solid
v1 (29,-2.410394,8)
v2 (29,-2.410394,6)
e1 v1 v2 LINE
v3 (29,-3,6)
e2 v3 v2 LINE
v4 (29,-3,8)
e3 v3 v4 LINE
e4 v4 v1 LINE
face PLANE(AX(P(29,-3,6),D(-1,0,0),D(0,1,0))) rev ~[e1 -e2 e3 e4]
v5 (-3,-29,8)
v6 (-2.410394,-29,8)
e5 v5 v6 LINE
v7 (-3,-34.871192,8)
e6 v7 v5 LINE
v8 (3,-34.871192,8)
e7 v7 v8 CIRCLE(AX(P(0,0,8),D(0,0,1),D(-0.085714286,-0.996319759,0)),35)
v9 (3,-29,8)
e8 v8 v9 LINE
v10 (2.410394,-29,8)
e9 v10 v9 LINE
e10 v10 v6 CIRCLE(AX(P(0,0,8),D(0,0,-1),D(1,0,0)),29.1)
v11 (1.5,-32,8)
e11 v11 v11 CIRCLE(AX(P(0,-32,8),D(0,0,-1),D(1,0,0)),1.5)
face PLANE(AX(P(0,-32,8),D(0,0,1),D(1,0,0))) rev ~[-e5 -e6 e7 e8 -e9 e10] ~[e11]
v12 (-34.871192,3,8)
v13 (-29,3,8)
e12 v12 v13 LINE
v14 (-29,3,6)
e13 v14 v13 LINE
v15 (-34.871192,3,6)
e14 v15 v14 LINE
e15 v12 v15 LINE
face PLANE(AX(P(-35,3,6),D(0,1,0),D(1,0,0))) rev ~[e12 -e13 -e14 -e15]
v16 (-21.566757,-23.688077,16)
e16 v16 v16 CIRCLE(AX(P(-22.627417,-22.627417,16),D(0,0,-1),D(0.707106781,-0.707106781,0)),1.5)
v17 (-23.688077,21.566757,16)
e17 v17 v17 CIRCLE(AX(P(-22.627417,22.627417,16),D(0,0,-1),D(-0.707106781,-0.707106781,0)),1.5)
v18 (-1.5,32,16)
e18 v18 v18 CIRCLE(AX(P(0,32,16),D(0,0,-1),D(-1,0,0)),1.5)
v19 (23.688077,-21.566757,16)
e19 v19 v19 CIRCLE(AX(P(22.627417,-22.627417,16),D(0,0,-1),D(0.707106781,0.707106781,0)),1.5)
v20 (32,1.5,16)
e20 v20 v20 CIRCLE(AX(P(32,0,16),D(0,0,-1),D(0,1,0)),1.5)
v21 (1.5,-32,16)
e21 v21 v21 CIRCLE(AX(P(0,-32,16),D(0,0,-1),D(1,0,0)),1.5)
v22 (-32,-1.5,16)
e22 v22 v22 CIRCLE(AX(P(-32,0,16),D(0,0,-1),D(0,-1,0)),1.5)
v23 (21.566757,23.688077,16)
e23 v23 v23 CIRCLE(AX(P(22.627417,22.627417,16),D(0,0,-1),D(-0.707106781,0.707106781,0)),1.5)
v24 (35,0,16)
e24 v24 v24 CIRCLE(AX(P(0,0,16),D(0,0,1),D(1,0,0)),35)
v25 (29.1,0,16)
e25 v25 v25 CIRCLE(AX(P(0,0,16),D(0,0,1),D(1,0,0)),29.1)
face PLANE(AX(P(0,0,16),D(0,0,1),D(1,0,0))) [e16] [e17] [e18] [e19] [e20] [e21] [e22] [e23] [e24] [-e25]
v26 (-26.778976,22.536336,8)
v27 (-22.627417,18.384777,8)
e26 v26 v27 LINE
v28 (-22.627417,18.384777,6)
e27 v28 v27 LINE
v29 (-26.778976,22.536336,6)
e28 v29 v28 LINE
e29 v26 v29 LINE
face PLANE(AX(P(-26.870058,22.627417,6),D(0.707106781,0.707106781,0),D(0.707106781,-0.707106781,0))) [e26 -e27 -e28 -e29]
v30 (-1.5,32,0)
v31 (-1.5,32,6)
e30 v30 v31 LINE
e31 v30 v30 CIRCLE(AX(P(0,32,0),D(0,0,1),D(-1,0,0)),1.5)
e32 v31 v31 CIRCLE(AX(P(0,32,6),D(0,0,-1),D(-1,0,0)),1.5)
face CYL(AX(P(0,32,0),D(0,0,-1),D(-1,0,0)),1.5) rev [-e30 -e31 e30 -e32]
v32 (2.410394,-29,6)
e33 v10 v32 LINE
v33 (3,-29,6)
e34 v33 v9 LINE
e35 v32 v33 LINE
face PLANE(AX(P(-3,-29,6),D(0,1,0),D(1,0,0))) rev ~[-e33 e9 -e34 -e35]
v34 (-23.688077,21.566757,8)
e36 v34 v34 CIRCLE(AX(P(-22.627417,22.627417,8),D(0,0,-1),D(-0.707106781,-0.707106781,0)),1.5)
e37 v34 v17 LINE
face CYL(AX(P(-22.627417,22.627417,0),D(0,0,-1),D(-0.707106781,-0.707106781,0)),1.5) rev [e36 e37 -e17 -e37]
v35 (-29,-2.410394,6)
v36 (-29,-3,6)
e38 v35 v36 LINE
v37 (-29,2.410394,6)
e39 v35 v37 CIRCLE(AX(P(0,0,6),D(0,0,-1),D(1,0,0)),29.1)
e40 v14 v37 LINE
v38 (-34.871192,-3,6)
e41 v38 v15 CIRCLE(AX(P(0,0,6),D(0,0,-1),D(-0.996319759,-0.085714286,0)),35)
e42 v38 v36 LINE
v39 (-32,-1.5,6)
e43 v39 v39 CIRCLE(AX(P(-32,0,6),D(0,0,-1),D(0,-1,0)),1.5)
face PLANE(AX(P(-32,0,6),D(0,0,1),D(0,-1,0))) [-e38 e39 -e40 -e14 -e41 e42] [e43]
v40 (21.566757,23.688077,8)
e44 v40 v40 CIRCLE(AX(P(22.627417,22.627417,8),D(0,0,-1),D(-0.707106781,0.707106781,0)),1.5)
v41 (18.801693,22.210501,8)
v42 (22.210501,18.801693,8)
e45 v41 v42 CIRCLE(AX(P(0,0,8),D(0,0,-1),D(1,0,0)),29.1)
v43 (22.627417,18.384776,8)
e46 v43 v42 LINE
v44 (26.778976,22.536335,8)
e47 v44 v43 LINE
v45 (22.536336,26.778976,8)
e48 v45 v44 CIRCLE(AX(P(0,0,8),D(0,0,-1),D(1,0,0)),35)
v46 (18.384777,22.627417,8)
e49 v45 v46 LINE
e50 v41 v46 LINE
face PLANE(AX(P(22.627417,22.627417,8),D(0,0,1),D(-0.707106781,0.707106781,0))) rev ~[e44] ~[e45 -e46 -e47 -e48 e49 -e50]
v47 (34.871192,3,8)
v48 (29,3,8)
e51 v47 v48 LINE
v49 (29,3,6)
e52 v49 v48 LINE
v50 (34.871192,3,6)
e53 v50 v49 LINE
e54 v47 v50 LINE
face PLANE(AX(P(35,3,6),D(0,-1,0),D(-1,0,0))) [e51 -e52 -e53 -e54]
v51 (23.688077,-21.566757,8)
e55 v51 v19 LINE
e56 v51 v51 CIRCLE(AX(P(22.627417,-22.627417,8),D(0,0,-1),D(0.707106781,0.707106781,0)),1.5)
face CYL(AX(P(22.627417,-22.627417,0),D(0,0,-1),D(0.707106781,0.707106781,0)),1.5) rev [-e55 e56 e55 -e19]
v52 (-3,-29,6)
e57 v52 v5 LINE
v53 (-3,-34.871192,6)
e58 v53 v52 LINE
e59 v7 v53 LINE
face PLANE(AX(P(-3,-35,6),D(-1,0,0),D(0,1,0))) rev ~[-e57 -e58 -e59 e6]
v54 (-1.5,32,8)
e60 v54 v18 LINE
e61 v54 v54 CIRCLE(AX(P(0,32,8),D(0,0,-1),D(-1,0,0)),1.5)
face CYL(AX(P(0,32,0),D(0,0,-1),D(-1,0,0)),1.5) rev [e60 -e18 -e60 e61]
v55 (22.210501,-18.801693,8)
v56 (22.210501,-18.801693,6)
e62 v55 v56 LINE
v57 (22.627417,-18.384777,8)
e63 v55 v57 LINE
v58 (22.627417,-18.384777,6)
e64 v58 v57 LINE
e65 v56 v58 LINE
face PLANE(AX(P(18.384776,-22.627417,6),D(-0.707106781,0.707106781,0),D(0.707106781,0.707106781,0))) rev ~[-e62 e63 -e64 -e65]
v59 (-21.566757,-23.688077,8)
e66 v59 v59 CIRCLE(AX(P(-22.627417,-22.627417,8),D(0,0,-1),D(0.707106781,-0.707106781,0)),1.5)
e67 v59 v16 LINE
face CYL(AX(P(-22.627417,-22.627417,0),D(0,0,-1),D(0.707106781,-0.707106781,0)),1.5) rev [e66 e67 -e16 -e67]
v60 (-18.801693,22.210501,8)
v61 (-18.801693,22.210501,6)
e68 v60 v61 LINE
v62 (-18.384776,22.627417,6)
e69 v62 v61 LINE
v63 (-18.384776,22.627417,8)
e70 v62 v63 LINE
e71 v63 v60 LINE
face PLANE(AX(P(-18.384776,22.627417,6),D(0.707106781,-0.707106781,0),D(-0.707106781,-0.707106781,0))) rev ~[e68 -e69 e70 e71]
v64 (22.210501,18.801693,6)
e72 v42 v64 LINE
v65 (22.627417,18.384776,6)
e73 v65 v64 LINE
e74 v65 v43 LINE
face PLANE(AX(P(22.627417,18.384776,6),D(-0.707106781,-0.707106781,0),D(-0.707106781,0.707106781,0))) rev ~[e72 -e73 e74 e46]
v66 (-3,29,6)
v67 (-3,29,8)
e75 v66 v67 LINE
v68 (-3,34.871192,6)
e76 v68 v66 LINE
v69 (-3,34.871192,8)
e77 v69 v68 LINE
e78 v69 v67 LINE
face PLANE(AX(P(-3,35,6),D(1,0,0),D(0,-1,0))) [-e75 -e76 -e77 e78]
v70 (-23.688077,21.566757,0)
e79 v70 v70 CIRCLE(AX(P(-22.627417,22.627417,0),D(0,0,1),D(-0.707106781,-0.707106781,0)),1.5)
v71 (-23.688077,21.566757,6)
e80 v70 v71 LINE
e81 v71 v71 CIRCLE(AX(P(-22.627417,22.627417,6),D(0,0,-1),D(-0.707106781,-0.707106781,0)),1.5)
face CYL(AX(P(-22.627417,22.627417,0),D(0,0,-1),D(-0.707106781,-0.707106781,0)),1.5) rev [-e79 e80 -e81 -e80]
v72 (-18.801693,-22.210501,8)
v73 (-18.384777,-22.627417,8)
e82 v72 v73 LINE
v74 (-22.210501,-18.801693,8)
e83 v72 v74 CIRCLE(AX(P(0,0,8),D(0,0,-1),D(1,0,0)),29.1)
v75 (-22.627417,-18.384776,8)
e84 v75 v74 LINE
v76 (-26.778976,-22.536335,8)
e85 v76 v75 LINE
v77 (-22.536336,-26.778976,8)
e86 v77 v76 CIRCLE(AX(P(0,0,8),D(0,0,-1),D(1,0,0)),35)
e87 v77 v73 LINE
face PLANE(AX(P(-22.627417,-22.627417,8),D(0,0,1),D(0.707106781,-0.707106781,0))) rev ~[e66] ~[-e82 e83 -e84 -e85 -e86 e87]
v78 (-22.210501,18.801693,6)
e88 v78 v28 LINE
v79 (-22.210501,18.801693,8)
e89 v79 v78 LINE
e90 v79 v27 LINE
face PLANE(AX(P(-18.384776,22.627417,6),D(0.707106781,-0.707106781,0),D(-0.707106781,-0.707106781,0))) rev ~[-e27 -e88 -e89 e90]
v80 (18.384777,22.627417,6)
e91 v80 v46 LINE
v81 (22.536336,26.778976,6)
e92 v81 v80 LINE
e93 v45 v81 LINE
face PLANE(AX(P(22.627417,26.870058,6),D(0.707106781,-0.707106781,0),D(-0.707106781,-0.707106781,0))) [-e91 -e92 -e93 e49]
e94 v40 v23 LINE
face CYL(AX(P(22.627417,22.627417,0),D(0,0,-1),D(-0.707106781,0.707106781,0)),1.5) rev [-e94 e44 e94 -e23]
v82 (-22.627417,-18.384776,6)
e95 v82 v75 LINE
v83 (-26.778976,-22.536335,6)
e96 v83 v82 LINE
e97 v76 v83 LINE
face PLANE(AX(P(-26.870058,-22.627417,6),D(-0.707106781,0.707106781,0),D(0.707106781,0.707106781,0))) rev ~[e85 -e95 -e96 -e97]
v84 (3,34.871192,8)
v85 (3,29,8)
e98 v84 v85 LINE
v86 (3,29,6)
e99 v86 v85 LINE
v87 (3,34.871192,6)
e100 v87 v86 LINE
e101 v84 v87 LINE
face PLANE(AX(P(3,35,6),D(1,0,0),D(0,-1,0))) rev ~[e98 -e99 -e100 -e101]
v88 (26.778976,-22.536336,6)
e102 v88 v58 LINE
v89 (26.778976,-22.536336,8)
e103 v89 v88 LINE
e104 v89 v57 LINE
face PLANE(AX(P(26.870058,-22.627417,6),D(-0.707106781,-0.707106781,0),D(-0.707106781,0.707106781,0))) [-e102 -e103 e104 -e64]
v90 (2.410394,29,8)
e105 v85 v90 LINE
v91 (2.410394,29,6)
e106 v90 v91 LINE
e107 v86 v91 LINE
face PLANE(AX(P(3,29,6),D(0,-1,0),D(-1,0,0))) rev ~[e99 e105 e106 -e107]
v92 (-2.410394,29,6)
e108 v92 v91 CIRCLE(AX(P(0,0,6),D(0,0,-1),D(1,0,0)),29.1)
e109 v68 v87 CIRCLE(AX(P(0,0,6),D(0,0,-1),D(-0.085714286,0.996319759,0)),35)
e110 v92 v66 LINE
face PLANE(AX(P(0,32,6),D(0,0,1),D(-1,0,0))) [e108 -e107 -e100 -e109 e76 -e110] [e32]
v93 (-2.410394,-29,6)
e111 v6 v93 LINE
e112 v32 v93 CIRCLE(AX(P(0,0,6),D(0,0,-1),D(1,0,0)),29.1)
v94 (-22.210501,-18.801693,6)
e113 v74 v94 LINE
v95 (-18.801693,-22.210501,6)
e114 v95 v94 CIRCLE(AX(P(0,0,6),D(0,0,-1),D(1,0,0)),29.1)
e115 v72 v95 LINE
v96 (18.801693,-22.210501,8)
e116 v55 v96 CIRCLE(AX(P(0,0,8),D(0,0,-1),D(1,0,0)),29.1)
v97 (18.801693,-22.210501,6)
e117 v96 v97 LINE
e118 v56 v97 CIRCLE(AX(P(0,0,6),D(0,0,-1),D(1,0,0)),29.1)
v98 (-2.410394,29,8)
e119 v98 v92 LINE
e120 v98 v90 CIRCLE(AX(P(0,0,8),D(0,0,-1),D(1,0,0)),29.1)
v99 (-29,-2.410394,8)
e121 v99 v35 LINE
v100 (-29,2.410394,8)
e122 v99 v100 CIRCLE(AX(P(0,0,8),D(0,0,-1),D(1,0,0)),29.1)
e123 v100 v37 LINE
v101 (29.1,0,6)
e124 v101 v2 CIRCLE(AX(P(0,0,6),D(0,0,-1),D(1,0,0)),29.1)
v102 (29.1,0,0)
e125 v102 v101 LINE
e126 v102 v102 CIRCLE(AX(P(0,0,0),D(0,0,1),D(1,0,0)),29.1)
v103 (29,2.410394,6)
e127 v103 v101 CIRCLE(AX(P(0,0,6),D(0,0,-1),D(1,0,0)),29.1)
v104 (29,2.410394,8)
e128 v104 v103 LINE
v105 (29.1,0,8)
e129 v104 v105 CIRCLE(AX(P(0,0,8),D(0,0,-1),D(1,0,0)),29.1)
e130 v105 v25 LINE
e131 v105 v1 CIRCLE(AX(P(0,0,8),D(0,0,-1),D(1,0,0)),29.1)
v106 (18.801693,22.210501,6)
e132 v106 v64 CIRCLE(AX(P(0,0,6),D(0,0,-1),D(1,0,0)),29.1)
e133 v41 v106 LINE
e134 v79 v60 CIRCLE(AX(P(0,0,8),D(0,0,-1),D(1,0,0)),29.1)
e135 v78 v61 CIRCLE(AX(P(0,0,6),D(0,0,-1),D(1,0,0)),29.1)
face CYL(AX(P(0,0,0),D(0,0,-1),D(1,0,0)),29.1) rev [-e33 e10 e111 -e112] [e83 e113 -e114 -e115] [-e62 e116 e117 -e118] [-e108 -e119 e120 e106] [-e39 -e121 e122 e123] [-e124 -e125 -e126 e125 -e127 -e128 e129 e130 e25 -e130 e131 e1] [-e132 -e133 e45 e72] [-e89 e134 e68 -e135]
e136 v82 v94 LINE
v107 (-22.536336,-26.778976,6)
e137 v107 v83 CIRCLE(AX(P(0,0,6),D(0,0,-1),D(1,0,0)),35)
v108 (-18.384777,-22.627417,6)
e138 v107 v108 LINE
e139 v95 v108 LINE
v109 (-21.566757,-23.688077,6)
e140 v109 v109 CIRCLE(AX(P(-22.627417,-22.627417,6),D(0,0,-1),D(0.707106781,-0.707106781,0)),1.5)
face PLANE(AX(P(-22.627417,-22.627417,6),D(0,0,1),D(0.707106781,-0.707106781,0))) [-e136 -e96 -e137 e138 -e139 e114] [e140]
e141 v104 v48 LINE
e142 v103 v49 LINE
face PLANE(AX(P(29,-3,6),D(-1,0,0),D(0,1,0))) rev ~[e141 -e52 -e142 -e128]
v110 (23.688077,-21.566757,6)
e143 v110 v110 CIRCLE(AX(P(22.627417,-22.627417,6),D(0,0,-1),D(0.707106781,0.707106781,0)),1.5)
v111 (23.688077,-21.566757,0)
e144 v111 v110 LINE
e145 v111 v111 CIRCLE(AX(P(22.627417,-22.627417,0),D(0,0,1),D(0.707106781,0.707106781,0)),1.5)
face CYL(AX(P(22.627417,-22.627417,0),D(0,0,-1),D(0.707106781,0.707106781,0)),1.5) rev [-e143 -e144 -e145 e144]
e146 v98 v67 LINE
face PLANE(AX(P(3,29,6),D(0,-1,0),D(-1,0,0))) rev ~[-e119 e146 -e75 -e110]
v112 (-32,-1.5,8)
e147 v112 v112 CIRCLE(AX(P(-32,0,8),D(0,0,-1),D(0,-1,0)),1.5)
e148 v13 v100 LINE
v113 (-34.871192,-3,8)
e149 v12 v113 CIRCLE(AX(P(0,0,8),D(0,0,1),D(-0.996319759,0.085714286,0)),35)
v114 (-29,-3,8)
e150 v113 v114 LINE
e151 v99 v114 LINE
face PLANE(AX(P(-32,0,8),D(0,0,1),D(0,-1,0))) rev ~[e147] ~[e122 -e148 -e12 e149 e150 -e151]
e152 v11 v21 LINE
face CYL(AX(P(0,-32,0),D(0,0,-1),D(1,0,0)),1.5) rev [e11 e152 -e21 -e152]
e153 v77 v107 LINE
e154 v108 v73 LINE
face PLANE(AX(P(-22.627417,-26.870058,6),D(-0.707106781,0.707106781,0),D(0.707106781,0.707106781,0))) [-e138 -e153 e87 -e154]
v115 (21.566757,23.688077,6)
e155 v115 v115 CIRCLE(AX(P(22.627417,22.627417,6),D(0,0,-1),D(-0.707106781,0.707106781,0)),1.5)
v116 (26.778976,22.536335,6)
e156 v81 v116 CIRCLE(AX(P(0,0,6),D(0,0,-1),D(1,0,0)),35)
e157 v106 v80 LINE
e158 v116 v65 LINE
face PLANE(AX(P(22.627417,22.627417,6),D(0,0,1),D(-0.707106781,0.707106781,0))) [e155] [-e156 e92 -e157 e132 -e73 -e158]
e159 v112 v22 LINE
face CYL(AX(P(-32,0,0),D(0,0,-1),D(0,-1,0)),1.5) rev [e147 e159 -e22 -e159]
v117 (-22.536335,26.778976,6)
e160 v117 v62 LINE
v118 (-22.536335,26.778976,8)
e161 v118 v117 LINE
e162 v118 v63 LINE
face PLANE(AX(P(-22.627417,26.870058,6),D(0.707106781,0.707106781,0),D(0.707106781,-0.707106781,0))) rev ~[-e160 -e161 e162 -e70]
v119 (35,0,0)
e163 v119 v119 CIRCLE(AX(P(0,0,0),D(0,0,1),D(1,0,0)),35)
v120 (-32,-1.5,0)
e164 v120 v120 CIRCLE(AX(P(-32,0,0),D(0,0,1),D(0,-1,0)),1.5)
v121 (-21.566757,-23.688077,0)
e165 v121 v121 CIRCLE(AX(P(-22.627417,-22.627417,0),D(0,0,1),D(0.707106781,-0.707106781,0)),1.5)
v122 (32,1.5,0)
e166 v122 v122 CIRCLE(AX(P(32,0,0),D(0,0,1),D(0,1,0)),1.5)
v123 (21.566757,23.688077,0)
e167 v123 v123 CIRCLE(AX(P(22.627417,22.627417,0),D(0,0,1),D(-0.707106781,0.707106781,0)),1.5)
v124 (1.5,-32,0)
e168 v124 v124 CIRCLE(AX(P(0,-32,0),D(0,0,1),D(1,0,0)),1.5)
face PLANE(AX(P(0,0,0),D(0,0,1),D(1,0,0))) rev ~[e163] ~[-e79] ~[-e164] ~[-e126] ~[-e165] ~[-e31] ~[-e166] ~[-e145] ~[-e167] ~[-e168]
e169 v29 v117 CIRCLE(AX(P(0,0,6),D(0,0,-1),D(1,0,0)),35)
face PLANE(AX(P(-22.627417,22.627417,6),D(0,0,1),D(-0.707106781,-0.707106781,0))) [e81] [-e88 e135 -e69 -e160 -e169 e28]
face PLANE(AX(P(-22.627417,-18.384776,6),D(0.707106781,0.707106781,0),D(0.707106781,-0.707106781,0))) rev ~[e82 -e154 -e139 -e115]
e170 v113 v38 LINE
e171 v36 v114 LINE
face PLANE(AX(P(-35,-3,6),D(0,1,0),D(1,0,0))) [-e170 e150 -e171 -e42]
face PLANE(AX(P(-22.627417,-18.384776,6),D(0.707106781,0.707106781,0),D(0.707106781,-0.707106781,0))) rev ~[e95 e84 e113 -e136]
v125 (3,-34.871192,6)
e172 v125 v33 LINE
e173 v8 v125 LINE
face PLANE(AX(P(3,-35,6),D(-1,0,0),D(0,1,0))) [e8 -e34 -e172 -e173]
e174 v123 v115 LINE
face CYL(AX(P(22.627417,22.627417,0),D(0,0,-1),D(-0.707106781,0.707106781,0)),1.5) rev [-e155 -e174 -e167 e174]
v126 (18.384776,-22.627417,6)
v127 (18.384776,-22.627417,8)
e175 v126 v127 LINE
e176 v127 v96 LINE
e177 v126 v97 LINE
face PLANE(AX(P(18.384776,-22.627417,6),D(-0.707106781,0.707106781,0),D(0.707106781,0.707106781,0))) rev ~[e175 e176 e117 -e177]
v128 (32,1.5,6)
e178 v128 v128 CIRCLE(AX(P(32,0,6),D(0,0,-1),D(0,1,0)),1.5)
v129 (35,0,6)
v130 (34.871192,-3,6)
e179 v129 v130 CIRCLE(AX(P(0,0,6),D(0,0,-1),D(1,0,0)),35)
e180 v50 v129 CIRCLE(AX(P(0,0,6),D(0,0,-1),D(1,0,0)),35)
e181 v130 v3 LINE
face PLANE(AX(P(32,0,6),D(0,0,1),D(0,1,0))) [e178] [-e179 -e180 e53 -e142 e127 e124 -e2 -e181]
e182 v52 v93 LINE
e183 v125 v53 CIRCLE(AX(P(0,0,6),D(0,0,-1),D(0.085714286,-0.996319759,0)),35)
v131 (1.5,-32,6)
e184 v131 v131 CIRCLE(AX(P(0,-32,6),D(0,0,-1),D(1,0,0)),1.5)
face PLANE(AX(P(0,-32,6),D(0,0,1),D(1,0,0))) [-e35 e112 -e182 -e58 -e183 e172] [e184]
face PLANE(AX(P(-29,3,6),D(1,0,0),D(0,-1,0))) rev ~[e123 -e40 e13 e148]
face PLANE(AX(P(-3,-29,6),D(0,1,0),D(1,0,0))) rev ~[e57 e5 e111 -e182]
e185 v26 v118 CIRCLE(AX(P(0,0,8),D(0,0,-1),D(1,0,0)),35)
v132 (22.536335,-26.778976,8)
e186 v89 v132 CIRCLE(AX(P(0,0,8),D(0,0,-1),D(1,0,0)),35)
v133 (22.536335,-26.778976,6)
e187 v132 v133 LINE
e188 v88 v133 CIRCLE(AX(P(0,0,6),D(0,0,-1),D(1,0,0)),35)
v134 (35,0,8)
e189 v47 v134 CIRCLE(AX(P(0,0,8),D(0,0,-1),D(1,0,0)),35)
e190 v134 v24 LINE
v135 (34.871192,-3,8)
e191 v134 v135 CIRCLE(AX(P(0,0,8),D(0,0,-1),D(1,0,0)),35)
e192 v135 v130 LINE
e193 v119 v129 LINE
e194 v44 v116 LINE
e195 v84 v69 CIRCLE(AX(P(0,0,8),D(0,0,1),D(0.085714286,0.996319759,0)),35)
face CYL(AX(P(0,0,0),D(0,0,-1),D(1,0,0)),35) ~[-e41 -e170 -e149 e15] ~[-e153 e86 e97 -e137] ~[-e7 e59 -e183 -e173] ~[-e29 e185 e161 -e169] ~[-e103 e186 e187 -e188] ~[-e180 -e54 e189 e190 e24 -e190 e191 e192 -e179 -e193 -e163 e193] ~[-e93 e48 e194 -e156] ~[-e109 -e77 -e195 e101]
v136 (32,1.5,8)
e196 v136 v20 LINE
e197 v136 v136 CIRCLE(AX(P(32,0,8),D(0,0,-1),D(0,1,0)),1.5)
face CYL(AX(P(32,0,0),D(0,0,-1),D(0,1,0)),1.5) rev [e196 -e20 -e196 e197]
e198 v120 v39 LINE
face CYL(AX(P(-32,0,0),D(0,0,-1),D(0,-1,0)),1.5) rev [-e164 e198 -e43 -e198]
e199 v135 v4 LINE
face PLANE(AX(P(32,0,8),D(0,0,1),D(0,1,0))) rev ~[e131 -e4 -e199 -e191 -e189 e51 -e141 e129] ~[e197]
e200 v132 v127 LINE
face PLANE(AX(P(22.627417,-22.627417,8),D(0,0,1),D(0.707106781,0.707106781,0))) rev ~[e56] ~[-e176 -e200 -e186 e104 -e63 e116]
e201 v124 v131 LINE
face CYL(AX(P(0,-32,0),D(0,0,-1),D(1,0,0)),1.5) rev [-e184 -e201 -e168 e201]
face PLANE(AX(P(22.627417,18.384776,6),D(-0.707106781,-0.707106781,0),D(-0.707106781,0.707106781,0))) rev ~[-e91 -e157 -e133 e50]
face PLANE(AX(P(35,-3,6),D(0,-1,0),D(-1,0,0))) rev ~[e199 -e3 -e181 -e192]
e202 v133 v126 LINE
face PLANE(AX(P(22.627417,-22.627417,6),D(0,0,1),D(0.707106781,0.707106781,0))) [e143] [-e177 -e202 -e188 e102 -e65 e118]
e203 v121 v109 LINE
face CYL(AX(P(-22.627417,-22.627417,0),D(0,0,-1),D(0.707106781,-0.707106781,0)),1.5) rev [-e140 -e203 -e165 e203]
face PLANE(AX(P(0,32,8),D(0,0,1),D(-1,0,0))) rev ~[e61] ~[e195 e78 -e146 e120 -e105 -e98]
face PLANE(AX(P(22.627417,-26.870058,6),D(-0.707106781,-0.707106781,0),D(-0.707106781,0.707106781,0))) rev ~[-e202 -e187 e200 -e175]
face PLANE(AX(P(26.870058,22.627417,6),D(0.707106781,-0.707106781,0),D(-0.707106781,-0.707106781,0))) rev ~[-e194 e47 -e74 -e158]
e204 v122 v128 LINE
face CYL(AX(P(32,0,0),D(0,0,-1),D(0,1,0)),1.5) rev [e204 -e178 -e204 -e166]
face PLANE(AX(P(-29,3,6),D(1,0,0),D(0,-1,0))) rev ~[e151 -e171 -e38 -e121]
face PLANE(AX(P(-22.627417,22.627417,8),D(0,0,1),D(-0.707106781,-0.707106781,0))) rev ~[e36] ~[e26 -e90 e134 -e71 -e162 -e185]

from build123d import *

# Parameters (mm, degrees)
BOX697_W                     = 6
BOX697_H                     = 6
BOX697_DEPTH                 = 2
BOX697_PLACEMENT_ANGLE       = 45
BOX703_W                     = 6
BOX703_H                     = 6
BOX703_DEPTH                 = 2
BOX703_PLACEMENT_ANGLE       = 45
BOX702_W                     = 6
BOX702_H                     = 6
BOX702_DEPTH                 = 2
BOX701_W                     = 6
BOX701_H                     = 6
BOX701_DEPTH                 = 2
BOX701_PLACEMENT_ANGLE       = 225
BOX700_W                     = 6
BOX700_H                     = 6
BOX700_DEPTH                 = 2
BOX699_W                     = 6
BOX699_H                     = 6
BOX699_DEPTH                 = 2
BOX699_PLACEMENT_ANGLE       = 135
BOX698_W                     = 6
BOX698_H                     = 6
BOX698_DEPTH                 = 2
BOX696_W                     = 6
BOX696_H                     = 6
BOX696_DEPTH                 = 2
CYLINDER1770_R               = 1.5
CYLINDER1770_DEPTH           = 30
CYLINDER1770_PLACEMENT_ANGLE = 45
CYLINDER1768_R               = 1.5
CYLINDER1768_DEPTH           = 30
CYLINDER1764_R               = 1.5
CYLINDER1764_DEPTH           = 30
CYLINDER1764_PLACEMENT_ANGLE = 135
CYLINDER1767_R               = 1.5
CYLINDER1767_DEPTH           = 30
CYLINDER1765_R               = 1.5
CYLINDER1765_DEPTH           = 30
CYLINDER1765_PLACEMENT_ANGLE = 225
CYLINDER1769_R               = 1.5
CYLINDER1769_DEPTH           = 30
CYLINDER1766_R               = 1.5
CYLINDER1766_DEPTH           = 30
CYLINDER1766_PLACEMENT_ANGLE = 45
CYLINDER1771_R               = 1.5
CYLINDER1771_DEPTH           = 30
TUBE086_R                    = 35
TUBE086_R_2                  = 29.1
TUBE086_DEPTH                = 16


with BuildPart() as krychle697:
    # Box697 → Box697 (new body)
    with BuildSketch(Plane.XY):
        with Locations((3, 3)):
            Rectangle(BOX697_W, BOX697_H)
    extrude(amount=BOX697_DEPTH)


with BuildPart() as krychle697_1:
    # Box697 placement: moved
    add(krychle697.part.moved(Location((22.627417, -26.870058, 6))).rotate(Axis((22.627417, -26.870058, 6), (0, 0, 1)), BOX697_PLACEMENT_ANGLE))


with BuildPart() as krychle703:
    # Box703 → Box703 (new body)
    with BuildSketch(Plane.XY):
        with Locations((3, 3)):
            Rectangle(BOX703_W, BOX703_H)
    extrude(amount=BOX703_DEPTH)


with BuildPart() as krychle703_1:
    # Box703 placement: moved
    add(krychle703.part.moved(Location((-26.870058, -22.627417, 6))).rotate(Axis((-26.870058, -22.627417, 6), (0, 0, -1)), BOX703_PLACEMENT_ANGLE))


with BuildPart() as krychle702:
    # Box702 → Box702 (new body)
    with BuildSketch(Plane(origin=(-35, 3, 6), x_dir=(0, -1, 0), z_dir=(0, 0, 1))):
        with Locations((3, 3)):
            Rectangle(BOX702_W, BOX702_H)
    extrude(amount=BOX702_DEPTH)


with BuildPart() as krychle701:
    # Box701 → Box701 (new body)
    with BuildSketch(Plane.XY):
        with Locations((3, 3)):
            Rectangle(BOX701_W, BOX701_H)
    extrude(amount=BOX701_DEPTH)


with BuildPart() as krychle701_1:
    # Box701 placement: moved
    add(krychle701.part.moved(Location((-22.627417, 26.870058, 6))).rotate(Axis((-22.627417, 26.870058, 6), (0, 0, 1)), BOX701_PLACEMENT_ANGLE))


with BuildPart() as krychle700:
    # Box700 → Box700 (new body)
    with BuildSketch(Plane(origin=(3, 35, 6), x_dir=(-1, 0, 0), z_dir=(0, 0, 1))):
        with Locations((3, 3)):
            Rectangle(BOX700_W, BOX700_H)
    extrude(amount=BOX700_DEPTH)


with BuildPart() as krychle699:
    # Box699 → Box699 (new body)
    with BuildSketch(Plane.XY):
        with Locations((3, 3)):
            Rectangle(BOX699_W, BOX699_H)
    extrude(amount=BOX699_DEPTH)


with BuildPart() as krychle699_1:
    # Box699 placement: moved
    add(krychle699.part.moved(Location((26.870058, 22.627417, 6))).rotate(Axis((26.870058, 22.627417, 6), (0, 0, 1)), BOX699_PLACEMENT_ANGLE))


with BuildPart() as krychle698:
    # Box698 → Box698 (new body)
    with BuildSketch(Plane(origin=(35, -3, 6), x_dir=(0, 1, 0), z_dir=(0, 0, 1))):
        with Locations((3, 3)):
            Rectangle(BOX698_W, BOX698_H)
    extrude(amount=BOX698_DEPTH)


with BuildPart() as compound878:
    # Box696 → Box696 (new body)
    with BuildSketch(Plane(origin=(-3, -35, 6), x_dir=(1, 0, 0), z_dir=(0, 0, 1))):
        with Locations((3, 3)):
            Rectangle(BOX696_W, BOX696_H)
    extrude(amount=BOX696_DEPTH)

    # Compound878: union Krychle697, Krychle703, Krychle702, Krychle701, Krychle700, Krychle699, Krychle698
    add(krychle697_1.part)
    add(krychle703_1.part)
    add(krychle702.part)
    add(krychle701_1.part)
    add(krychle700.part)
    add(krychle699_1.part)
    add(krychle698.part)


with BuildPart() as v_lec1770:
    # Cylinder1770 → Cylinder1770 (new body)
    with BuildSketch(Plane.XY):
        Circle(CYLINDER1770_R)
    extrude(amount=CYLINDER1770_DEPTH)


with BuildPart() as v_lec1770_1:
    # Cylinder1770 placement: moved
    add(v_lec1770.part.moved(Location((22.627417, -22.627417, 0))).rotate(Axis((22.627417, -22.627417, 0), (0, 0, 1)), CYLINDER1770_PLACEMENT_ANGLE))


with BuildPart() as v_lec1768:
    # Cylinder1768 → Cylinder1768 (new body)
    with BuildSketch(Plane(origin=(32, 0, 0), x_dir=(0, 1, 0), z_dir=(0, 0, 1))):
        Circle(CYLINDER1768_R)
    extrude(amount=CYLINDER1768_DEPTH)


with BuildPart() as v_lec1764:
    # Cylinder1764 → Cylinder1764 (new body)
    with BuildSketch(Plane.XY):
        Circle(CYLINDER1764_R)
    extrude(amount=CYLINDER1764_DEPTH)


with BuildPart() as v_lec1764_1:
    # Cylinder1764 placement: moved
    add(v_lec1764.part.moved(Location((22.627417, 22.627417, 0))).rotate(Axis((22.627417, 22.627417, 0), (0, 0, 1)), CYLINDER1764_PLACEMENT_ANGLE))


with BuildPart() as v_lec1767:
    # Cylinder1767 → Cylinder1767 (new body)
    with BuildSketch(Plane(origin=(0, 32, 0), x_dir=(-1, 0, 0), z_dir=(0, 0, 1))):
        Circle(CYLINDER1767_R)
    extrude(amount=CYLINDER1767_DEPTH)


with BuildPart() as v_lec1765:
    # Cylinder1765 → Cylinder1765 (new body)
    with BuildSketch(Plane.XY):
        Circle(CYLINDER1765_R)
    extrude(amount=CYLINDER1765_DEPTH)


with BuildPart() as v_lec1765_1:
    # Cylinder1765 placement: moved
    add(v_lec1765.part.moved(Location((-22.627417, 22.627417, 0))).rotate(Axis((-22.627417, 22.627417, 0), (0, 0, 1)), CYLINDER1765_PLACEMENT_ANGLE))


with BuildPart() as v_lec1769:
    # Cylinder1769 → Cylinder1769 (new body)
    with BuildSketch(Plane(origin=(-32, 0, 0), x_dir=(0, -1, 0), z_dir=(0, 0, 1))):
        Circle(CYLINDER1769_R)
    extrude(amount=CYLINDER1769_DEPTH)


with BuildPart() as v_lec1766:
    # Cylinder1766 → Cylinder1766 (new body)
    with BuildSketch(Plane.XY):
        Circle(CYLINDER1766_R)
    extrude(amount=CYLINDER1766_DEPTH)


with BuildPart() as v_lec1766_1:
    # Cylinder1766 placement: moved
    add(v_lec1766.part.moved(Location((-22.627417, -22.627417, 0))).rotate(Axis((-22.627417, -22.627417, 0), (0, 0, -1)), CYLINDER1766_PLACEMENT_ANGLE))


with BuildPart() as compound881:
    # Cylinder1771 → Cylinder1771 (new body)
    with BuildSketch(Plane(origin=(0, -32, 0), x_dir=(1, 0, 0), z_dir=(0, 0, 1))):
        Circle(CYLINDER1771_R)
    extrude(amount=CYLINDER1771_DEPTH)

    # Compound881: union Válec1770, Válec1768, Válec1764, Válec1767, Válec1765, Válec1769, Válec1766
    add(v_lec1770_1.part)
    add(v_lec1768.part)
    add(v_lec1764_1.part)
    add(v_lec1767.part)
    add(v_lec1765_1.part)
    add(v_lec1769.part)
    add(v_lec1766_1.part)


with BuildPart() as cut512:
    # Tube086 → Tube086 (new body)
    with BuildSketch(Plane.XY):
        Circle(TUBE086_R)
        Circle(TUBE086_R_2, mode=Mode.SUBTRACT)
    extrude(amount=TUBE086_DEPTH)

    # Cut511: cut Compound881
    add(compound881.part, mode=Mode.SUBTRACT)

    # Cut512: cut Compound878
    add(compound878.part, mode=Mode.SUBTRACT)


solid = cut512.part
